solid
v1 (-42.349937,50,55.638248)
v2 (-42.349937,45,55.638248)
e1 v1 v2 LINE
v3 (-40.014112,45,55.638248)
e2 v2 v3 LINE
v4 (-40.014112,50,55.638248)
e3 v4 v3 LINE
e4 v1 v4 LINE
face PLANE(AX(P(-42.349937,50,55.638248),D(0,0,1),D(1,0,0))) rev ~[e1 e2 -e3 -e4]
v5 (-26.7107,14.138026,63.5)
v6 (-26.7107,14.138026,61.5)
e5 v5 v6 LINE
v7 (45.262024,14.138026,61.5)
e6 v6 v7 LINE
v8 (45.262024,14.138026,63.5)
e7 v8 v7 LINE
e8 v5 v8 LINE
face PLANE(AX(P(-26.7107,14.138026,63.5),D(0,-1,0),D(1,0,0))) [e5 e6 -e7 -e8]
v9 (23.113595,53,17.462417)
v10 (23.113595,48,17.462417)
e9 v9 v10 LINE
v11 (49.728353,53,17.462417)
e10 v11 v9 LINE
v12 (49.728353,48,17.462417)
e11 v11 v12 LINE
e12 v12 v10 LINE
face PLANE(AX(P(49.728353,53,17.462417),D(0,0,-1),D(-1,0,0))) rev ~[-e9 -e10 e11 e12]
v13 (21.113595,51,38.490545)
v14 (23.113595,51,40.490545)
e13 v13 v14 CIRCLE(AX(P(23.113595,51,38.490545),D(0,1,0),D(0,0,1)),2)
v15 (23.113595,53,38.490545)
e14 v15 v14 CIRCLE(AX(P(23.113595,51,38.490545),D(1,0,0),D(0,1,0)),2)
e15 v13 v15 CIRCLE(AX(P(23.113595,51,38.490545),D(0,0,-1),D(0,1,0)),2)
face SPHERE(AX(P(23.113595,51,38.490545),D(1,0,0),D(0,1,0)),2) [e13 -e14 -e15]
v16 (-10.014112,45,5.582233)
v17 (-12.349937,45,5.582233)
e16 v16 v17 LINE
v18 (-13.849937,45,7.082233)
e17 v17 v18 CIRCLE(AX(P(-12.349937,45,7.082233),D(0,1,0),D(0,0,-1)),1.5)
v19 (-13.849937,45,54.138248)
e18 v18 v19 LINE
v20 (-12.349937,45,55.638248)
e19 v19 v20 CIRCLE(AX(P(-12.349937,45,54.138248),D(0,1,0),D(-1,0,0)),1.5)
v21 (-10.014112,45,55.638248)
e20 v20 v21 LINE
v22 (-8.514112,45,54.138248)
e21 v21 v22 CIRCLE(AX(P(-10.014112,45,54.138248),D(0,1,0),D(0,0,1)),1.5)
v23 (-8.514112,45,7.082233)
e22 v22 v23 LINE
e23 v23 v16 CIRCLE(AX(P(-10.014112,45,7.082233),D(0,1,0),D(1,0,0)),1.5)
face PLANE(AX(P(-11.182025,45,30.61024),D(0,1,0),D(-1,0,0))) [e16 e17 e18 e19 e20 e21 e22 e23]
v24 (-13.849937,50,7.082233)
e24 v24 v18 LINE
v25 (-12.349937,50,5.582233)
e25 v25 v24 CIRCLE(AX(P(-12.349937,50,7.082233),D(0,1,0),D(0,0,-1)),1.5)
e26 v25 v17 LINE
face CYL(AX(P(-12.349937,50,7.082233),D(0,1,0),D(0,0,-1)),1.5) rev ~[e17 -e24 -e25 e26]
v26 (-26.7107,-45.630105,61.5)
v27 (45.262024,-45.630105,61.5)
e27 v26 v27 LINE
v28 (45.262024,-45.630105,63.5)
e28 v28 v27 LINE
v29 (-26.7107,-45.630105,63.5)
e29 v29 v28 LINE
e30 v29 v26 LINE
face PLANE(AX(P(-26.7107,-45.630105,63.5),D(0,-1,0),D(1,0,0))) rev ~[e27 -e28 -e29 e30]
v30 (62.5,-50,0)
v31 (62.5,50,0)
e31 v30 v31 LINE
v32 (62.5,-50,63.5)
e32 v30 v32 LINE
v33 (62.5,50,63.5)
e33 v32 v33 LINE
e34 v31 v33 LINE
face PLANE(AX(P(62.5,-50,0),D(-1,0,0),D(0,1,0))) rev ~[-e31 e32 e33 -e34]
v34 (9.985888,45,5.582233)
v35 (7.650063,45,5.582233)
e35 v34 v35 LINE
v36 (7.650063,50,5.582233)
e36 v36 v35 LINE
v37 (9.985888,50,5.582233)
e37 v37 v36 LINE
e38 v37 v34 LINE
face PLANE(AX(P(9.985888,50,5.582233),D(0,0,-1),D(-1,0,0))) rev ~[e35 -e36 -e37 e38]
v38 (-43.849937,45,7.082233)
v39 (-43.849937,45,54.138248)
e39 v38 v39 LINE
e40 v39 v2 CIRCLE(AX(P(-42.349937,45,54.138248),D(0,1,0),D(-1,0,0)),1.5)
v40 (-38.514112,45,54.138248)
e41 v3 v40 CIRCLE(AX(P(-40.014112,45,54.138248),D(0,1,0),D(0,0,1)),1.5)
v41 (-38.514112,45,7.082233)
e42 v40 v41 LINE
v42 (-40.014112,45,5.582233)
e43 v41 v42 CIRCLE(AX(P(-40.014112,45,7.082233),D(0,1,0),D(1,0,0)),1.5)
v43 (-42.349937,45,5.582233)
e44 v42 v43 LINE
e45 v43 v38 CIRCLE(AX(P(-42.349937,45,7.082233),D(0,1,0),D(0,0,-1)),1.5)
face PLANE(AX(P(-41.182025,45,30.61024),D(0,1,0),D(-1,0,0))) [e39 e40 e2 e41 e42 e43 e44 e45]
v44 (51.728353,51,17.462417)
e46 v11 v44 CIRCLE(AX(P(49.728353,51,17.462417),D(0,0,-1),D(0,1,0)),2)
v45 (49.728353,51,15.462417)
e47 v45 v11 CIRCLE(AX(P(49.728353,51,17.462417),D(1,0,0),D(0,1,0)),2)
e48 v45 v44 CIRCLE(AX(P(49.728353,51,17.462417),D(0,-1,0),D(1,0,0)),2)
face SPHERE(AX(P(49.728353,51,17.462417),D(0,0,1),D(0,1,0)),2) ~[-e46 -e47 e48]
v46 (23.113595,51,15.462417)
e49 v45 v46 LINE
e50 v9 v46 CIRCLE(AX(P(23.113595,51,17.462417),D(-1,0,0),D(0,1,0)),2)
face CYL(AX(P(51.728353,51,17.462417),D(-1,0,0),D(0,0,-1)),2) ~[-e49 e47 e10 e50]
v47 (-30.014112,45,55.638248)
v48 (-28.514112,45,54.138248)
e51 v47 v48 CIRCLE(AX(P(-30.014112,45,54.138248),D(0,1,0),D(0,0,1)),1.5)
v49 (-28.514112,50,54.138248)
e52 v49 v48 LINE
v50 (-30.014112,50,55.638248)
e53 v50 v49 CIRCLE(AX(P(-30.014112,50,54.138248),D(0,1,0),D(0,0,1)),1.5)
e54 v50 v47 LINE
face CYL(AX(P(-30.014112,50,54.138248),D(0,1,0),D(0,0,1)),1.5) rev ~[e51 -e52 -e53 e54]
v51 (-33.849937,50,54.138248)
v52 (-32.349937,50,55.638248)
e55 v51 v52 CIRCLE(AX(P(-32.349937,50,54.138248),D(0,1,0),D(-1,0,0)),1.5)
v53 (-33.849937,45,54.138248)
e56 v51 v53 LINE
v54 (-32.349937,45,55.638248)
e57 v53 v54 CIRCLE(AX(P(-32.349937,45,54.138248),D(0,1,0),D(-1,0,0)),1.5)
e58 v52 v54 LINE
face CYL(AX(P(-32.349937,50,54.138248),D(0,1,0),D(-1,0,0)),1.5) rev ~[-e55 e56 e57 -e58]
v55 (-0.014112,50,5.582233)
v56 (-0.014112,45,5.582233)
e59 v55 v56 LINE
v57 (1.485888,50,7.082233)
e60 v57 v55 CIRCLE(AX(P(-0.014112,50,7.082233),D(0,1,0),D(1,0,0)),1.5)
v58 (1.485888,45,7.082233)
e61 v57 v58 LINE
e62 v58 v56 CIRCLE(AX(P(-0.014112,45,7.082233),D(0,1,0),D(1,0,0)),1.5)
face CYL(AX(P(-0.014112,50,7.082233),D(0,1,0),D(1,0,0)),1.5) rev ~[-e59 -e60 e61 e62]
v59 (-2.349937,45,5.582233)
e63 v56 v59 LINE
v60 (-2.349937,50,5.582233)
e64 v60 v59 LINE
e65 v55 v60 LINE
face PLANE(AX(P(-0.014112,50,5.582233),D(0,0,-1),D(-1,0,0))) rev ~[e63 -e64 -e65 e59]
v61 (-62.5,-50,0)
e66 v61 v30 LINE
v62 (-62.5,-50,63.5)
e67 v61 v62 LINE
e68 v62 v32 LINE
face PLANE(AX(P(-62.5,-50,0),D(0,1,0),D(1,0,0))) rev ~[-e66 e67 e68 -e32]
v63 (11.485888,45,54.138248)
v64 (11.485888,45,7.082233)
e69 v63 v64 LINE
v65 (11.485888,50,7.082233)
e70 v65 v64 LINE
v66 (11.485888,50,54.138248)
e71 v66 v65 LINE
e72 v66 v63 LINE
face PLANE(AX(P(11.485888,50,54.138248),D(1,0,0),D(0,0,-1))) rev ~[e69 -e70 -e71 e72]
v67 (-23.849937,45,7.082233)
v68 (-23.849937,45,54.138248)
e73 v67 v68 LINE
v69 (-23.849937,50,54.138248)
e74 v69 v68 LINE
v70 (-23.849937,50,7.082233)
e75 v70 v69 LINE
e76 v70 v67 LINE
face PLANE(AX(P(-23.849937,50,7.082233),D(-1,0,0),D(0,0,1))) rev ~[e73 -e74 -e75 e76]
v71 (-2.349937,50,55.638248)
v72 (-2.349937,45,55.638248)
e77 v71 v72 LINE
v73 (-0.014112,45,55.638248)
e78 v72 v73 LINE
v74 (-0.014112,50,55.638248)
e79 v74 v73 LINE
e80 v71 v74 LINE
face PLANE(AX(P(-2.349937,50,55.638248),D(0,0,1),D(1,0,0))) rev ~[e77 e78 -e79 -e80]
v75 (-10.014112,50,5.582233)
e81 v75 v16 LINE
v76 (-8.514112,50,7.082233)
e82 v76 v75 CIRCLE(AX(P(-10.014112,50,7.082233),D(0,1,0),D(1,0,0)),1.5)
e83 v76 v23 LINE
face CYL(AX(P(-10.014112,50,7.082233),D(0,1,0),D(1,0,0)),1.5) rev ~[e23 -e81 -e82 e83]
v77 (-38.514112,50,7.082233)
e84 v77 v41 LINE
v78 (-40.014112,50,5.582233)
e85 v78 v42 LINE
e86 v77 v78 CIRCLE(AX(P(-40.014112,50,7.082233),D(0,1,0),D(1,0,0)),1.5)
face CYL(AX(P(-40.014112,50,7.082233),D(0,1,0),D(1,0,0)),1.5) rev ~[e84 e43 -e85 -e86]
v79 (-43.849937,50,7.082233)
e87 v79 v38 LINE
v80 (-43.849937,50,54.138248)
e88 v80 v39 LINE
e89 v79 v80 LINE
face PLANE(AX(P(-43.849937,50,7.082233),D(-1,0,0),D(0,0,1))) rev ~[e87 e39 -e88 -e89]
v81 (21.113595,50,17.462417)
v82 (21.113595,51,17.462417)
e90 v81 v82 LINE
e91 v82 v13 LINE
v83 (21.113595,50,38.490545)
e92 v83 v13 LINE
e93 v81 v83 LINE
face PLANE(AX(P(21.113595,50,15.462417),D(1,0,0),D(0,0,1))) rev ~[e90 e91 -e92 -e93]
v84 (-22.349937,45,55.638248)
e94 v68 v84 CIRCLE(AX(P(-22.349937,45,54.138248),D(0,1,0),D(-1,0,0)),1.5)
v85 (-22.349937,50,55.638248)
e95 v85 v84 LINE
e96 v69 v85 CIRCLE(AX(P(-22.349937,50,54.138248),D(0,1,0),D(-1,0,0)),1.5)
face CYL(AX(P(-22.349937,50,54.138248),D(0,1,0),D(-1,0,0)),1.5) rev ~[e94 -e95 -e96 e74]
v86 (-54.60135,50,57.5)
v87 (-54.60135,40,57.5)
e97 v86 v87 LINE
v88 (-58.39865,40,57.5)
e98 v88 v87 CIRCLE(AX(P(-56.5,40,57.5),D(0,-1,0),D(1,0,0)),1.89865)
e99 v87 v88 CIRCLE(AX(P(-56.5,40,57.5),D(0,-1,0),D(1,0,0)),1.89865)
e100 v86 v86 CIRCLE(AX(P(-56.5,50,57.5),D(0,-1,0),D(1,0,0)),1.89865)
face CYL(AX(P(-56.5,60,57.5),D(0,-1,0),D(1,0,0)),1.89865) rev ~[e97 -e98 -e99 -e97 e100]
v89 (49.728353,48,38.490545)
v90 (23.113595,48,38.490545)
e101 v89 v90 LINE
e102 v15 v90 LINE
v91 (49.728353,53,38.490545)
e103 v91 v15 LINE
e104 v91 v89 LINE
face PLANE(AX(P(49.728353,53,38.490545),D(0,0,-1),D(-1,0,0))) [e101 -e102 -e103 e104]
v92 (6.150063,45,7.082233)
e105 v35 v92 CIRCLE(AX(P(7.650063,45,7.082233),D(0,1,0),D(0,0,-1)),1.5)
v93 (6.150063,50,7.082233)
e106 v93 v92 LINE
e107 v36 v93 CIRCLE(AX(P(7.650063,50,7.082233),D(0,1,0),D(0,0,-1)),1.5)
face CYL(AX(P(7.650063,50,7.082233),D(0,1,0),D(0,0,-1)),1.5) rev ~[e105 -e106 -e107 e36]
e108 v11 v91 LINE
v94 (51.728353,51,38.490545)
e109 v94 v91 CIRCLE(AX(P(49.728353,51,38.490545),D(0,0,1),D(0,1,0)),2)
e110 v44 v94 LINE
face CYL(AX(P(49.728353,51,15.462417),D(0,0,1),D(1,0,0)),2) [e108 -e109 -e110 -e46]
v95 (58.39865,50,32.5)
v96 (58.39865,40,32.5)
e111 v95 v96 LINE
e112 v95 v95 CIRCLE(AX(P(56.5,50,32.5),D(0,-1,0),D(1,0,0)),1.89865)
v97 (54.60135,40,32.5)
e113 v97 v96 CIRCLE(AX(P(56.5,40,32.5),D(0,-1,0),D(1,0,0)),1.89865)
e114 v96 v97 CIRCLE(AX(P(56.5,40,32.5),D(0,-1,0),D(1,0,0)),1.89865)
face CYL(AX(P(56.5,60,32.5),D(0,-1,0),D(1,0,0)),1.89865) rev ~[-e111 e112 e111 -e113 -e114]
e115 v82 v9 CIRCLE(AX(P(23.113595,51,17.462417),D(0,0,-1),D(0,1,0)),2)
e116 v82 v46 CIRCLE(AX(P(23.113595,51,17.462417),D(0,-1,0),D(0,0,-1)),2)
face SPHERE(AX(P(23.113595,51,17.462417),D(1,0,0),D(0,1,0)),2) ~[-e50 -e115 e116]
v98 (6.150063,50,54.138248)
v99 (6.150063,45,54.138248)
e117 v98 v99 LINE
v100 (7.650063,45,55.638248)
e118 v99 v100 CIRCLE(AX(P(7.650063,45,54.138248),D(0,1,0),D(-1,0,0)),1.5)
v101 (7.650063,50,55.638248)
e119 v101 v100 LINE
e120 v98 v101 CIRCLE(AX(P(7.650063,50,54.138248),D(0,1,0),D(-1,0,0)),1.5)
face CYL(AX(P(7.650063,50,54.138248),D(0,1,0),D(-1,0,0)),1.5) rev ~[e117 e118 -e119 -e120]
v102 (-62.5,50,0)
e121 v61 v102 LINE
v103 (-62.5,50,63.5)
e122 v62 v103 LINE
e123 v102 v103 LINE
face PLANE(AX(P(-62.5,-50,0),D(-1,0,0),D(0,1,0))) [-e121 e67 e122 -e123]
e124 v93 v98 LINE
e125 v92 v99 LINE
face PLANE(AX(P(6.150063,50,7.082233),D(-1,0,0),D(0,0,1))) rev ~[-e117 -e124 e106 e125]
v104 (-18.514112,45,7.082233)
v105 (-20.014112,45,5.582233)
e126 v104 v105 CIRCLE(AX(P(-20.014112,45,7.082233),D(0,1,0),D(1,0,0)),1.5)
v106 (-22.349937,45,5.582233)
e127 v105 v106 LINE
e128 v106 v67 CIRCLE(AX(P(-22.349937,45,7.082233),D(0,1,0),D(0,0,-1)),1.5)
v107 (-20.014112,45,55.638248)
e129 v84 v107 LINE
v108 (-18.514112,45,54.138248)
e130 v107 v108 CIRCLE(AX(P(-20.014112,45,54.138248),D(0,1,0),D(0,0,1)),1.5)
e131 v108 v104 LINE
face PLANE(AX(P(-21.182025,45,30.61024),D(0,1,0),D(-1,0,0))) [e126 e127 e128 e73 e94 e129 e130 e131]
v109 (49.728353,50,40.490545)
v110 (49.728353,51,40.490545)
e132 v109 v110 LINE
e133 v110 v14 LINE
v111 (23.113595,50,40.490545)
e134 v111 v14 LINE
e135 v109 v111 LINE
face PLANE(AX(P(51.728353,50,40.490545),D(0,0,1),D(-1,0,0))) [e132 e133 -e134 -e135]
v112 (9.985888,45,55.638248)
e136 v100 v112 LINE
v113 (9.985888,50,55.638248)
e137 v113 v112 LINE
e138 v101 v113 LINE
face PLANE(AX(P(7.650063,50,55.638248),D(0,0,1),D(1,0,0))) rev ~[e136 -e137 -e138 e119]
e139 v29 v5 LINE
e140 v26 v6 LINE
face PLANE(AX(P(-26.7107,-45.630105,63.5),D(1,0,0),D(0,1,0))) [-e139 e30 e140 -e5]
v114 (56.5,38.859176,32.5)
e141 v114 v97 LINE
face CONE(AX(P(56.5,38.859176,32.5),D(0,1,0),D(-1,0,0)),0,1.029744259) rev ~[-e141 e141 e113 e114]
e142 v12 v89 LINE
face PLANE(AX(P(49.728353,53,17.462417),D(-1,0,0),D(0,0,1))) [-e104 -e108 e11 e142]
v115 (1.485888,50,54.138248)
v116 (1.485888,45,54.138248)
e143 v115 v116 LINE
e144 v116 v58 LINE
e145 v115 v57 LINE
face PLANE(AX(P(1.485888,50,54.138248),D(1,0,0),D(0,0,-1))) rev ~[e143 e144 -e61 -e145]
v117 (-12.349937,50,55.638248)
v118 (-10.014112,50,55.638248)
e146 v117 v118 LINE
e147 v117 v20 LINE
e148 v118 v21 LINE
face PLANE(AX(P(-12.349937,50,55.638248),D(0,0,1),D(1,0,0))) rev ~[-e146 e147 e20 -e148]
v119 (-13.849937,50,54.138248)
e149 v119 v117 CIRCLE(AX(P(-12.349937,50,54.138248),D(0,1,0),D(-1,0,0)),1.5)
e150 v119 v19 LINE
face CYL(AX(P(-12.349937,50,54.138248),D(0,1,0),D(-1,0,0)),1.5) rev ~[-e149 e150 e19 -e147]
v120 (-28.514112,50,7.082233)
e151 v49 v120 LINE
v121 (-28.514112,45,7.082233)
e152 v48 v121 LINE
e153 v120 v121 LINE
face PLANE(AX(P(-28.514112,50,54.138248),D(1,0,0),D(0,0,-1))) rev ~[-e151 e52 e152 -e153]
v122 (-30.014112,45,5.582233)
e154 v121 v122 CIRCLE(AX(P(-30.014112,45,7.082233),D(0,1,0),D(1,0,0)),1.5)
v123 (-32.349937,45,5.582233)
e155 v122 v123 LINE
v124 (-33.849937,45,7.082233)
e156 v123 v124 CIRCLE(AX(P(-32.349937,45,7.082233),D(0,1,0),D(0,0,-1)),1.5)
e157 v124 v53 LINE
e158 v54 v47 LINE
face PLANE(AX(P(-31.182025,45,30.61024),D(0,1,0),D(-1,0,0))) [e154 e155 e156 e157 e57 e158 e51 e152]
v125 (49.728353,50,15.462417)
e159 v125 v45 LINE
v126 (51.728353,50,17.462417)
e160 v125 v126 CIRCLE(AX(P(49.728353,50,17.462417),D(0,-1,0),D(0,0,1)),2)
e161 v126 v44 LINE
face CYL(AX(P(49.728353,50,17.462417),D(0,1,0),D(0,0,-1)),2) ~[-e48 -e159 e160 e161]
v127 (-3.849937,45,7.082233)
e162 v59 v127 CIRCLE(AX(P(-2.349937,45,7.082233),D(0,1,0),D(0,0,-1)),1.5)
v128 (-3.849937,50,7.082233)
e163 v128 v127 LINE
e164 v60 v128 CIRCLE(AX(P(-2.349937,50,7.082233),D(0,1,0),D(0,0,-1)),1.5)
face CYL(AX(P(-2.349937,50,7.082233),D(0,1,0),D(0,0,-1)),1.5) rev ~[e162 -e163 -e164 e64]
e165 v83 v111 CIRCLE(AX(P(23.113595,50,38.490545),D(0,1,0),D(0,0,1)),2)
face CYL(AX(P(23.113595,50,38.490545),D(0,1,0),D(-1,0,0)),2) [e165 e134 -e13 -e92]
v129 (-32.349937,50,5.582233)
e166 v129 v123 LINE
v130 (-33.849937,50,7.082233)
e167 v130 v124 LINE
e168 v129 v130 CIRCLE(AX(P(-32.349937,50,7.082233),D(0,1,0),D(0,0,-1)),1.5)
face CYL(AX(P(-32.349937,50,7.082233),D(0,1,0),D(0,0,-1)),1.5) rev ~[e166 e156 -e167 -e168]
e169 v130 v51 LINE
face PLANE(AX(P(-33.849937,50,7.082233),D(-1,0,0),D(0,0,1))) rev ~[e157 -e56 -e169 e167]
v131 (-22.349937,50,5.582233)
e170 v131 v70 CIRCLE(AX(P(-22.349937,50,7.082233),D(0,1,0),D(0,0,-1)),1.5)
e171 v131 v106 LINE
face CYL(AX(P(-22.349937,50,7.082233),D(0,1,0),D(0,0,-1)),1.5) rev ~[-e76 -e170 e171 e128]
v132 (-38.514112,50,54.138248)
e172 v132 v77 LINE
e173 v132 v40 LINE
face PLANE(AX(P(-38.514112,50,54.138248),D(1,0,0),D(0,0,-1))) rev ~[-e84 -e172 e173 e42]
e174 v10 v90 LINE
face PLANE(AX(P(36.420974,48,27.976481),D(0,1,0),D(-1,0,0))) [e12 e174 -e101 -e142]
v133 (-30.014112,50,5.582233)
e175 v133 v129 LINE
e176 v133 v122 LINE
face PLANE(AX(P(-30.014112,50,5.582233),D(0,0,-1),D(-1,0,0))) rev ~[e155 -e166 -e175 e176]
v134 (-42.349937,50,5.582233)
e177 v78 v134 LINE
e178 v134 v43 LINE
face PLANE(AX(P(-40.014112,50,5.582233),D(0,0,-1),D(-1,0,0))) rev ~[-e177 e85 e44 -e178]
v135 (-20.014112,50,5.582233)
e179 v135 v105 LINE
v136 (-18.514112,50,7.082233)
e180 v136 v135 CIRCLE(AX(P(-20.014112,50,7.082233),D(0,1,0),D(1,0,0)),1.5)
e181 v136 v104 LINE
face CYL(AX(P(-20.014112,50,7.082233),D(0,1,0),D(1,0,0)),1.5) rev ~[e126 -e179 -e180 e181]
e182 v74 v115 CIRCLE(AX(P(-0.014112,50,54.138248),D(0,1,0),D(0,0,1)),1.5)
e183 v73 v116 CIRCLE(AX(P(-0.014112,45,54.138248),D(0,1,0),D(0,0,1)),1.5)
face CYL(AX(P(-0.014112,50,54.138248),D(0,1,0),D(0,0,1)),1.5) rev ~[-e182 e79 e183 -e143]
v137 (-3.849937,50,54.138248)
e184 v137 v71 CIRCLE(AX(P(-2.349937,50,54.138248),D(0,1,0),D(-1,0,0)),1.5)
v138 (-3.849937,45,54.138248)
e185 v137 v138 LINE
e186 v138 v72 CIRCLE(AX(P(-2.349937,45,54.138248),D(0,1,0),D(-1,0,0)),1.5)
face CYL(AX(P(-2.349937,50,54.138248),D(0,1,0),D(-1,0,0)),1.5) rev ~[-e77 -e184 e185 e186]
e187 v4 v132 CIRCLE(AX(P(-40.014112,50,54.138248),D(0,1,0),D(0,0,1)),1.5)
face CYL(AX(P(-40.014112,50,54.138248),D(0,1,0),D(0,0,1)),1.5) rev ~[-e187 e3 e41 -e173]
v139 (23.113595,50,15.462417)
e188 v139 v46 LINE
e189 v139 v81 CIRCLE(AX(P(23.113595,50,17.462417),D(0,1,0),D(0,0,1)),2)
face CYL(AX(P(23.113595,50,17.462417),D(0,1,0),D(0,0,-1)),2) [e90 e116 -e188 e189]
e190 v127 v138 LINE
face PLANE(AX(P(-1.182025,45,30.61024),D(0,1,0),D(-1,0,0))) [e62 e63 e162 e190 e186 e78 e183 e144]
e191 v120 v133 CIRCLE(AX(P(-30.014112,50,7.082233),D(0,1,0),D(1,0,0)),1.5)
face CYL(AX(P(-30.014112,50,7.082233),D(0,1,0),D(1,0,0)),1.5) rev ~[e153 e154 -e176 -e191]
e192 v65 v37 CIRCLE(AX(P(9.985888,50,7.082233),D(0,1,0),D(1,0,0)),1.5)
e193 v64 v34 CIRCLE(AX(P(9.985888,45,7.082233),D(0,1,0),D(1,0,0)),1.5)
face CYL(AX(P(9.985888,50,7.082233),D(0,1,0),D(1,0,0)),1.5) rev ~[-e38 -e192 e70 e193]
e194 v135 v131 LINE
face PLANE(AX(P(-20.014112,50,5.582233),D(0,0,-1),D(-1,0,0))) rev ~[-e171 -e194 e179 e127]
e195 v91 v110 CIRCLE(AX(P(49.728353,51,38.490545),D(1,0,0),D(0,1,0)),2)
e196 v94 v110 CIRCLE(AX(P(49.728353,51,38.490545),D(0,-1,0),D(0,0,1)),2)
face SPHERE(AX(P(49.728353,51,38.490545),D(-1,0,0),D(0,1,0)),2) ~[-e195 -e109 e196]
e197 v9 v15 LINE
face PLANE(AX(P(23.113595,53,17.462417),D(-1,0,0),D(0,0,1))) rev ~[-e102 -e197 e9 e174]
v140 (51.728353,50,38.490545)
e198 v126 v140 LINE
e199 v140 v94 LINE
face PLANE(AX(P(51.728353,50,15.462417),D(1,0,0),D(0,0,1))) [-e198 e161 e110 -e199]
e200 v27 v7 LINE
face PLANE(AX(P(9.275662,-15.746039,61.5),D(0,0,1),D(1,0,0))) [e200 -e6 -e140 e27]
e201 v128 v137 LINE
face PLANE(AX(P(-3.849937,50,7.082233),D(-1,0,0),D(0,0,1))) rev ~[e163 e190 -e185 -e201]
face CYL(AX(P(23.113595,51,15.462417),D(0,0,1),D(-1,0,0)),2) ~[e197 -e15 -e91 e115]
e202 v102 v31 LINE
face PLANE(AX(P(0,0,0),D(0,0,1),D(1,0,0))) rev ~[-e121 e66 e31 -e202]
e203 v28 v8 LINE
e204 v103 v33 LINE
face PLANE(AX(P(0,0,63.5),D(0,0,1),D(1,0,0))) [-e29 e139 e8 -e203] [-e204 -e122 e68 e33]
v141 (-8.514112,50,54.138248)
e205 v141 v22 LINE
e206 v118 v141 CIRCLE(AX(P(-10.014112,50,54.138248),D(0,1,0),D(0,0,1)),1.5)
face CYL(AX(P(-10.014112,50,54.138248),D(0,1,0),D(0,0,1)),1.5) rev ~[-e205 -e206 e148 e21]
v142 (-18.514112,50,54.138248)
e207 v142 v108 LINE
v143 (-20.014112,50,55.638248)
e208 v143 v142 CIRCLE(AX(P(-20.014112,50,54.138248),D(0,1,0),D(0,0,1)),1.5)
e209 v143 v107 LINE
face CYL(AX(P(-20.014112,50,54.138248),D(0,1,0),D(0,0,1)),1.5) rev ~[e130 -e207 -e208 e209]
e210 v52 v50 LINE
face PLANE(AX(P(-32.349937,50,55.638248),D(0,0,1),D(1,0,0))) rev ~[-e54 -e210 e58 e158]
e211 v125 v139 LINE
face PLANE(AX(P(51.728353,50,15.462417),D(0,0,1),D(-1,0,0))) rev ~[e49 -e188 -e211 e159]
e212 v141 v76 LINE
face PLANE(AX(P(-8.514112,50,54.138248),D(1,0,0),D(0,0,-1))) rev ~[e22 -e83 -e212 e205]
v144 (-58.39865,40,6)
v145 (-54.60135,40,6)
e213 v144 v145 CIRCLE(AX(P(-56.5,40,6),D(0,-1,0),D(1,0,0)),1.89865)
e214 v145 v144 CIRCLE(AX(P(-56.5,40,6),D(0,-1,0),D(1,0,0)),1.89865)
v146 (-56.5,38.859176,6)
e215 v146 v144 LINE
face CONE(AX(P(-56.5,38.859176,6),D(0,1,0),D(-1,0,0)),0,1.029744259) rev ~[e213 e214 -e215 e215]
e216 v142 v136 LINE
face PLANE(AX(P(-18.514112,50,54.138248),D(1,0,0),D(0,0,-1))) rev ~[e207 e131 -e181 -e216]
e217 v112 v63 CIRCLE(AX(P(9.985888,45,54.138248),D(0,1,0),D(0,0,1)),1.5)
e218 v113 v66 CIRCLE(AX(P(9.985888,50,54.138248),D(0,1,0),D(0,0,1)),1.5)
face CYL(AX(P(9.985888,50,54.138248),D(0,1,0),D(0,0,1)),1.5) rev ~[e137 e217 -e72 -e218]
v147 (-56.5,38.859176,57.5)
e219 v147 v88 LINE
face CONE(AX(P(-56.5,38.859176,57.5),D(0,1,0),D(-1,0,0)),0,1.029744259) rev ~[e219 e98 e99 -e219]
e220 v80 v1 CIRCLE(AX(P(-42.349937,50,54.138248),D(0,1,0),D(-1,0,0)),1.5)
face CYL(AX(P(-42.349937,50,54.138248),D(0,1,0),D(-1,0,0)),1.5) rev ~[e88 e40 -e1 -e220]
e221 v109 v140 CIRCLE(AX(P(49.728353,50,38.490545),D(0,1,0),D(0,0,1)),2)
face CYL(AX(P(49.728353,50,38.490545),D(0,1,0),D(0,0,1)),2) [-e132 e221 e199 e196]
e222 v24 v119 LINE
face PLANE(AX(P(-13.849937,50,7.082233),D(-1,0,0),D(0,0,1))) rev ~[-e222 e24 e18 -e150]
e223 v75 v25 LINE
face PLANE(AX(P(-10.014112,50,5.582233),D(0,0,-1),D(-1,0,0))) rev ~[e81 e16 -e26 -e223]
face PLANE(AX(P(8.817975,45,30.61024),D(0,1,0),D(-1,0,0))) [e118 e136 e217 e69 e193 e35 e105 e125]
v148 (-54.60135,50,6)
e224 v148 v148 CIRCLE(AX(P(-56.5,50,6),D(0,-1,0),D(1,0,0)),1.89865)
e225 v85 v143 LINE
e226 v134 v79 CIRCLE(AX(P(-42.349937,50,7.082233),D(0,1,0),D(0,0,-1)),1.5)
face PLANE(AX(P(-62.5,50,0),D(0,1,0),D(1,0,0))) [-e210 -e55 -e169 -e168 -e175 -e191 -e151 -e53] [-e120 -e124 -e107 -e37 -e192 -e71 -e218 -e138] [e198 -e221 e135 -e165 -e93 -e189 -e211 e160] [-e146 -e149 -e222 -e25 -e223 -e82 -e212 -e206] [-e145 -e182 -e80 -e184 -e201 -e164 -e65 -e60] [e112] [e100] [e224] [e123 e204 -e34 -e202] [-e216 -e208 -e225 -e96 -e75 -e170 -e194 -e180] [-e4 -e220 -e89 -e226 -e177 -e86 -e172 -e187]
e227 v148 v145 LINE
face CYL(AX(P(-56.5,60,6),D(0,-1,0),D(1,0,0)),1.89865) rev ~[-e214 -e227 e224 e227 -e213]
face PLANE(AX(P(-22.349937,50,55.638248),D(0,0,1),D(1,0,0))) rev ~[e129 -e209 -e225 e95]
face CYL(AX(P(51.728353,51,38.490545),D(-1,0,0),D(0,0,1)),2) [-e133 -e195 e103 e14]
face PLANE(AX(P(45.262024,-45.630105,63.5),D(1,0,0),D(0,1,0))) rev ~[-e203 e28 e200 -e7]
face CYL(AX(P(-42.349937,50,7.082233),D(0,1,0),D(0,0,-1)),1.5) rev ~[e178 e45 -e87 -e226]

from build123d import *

# Parameters (mm, degrees)
F0_W      = 125
F0_H      = 100
F1_DEPTH  = 63.5
F3_D      = 3.7973
F3_DEPTH  = 10
F3_TIP    = 1.1408240143
F2_W      = 30.6147579104
F2_H      = 25.0281281769
F4_DEPTH  = 3
F5_R      = 2
F6_W      = 71.9727240503
F6_H      = 59.7681310028
F7_DEPTH  = 2
F9_DEPTH  = 5
F10_DEPTH = 5


with BuildPart() as f1:
    # F0 (on Top) → F1 (new body)
    with BuildSketch(Plane.XY):
        Rectangle(F0_W, F0_H)
    extrude(amount=F1_DEPTH)

    # F3
    with Locations(Plane(origin=(0, 50, 0), x_dir=(-1, 0, 0), z_dir=(0, 1, 0))):
        with Locations((-56.5, 32.5), (56.5, 57.5), (56.5, 6)):
            Hole(F3_D / 2, depth=F3_DEPTH)
            with Locations((0, 0, -(F3_DEPTH + F3_TIP / 2))):  # 118° drill point
                Cone(0, F3_D / 2, F3_TIP, mode=Mode.SUBTRACT)

    # F2 (on face) → F4 (join)
    with BuildSketch(Plane(origin=(0, 50, 0), x_dir=(-1, 0, 0), z_dir=(0, 1, 0))):
        with Locations((-36.4209739491, 27.976481244)):
            Rectangle(F2_W, F2_H)
    extrude(amount=F4_DEPTH)

    # F5
    f5_edges = [f1.edges().sort_by_distance(p)[0] for p in [
        (36.420974, 53, 40.490545),
        (51.728353, 53, 27.976481),
        (36.420974, 53, 15.462417),
        (21.113595, 53, 27.976481),
        (21.113595, 51.5, 40.490545),
        (21.113595, 51.5, 15.462417),
        (51.728353, 51.5, 40.490545),
        (51.728353, 51.5, 15.462417),
    ]]
    fillet(f5_edges, radius=F5_R)

    # F6 (on face) → F7 (cut)
    with BuildSketch(Plane.XY.offset(63.5)):
        with Locations((9.2756617814, -15.7460393384)):
            Rectangle(F6_W, F6_H)
    extrude(amount=-F7_DEPTH, mode=Mode.SUBTRACT)

    # F8 (on face) → F9 (cut)
    with BuildSketch(Plane(origin=(0, 50, 0), x_dir=(-1, 0, 0), z_dir=(0, 1, 0))):
        with BuildLine():
            Line((-7.6500625238, 55.638247937), (-9.9858876914, 55.638247937))
            ThreePointArc((-9.9858876914, 55.638247937), (-11.0465478632, 55.1989081087), (-11.4858876914, 54.138247937))
            Line((-11.4858876914, 54.138247937), (-11.4858876914, 7.0822326578))
            ThreePointArc((-11.4858876914, 7.0822326578), (-11.0465478632, 6.021572486), (-9.9858876914, 5.5822326578))
            Line((-9.9858876914, 5.5822326578), (-7.6500625238, 5.5822326578))
            ThreePointArc((-7.6500625238, 5.5822326578), (-6.589402352, 6.021572486), (-6.1500625238, 7.0822326578))
            Line((-6.1500625238, 7.0822326578), (-6.1500625238, 54.138247937))
            ThreePointArc((-6.1500625238, 54.138247937), (-6.589402352, 55.1989081087), (-7.6500625238, 55.638247937))
        make_face()
        with BuildLine():
            Line((2.3499374762, 55.638247937), (0.0141123086, 55.638247937))
            ThreePointArc((0.0141123086, 55.638247937), (-1.0465478632, 55.1989081087), (-1.4858876914, 54.138247937))
            Line((-1.4858876914, 54.138247937), (-1.4858876914, 7.0822326578))
            ThreePointArc((-1.4858876914, 7.0822326578), (-1.0465478632, 6.021572486), (0.0141123086, 5.5822326578))
            Line((0.0141123086, 5.5822326578), (2.3499374762, 5.5822326578))
            ThreePointArc((2.3499374762, 5.5822326578), (3.410597648, 6.021572486), (3.8499374762, 7.0822326578))
            Line((3.8499374762, 7.0822326578), (3.8499374762, 54.138247937))
            ThreePointArc((3.8499374762, 54.138247937), (3.410597648, 55.1989081087), (2.3499374762, 55.638247937))
        make_face()
        with BuildLine():
            Line((12.3499374762, 55.638247937), (10.0141123086, 55.638247937))
            ThreePointArc((10.0141123086, 55.638247937), (8.9534521368, 55.1989081087), (8.5141123086, 54.138247937))
            Line((8.5141123086, 54.138247937), (8.5141123086, 7.0822326578))
            ThreePointArc((8.5141123086, 7.0822326578), (8.9534521368, 6.021572486), (10.0141123086, 5.5822326578))
            Line((10.0141123086, 5.5822326578), (12.3499374762, 5.5822326578))
            ThreePointArc((12.3499374762, 5.5822326578), (13.410597648, 6.021572486), (13.8499374762, 7.0822326578))
            Line((13.8499374762, 7.0822326578), (13.8499374762, 54.138247937))
            ThreePointArc((13.8499374762, 54.138247937), (13.410597648, 55.1989081087), (12.3499374762, 55.638247937))
        make_face()
        with BuildLine():
            Line((22.3499374762, 55.638247937), (20.0141123086, 55.638247937))
            ThreePointArc((20.0141123086, 55.638247937), (18.9534521368, 55.1989081087), (18.5141123086, 54.138247937))
            Line((18.5141123086, 54.138247937), (18.5141123086, 7.0822326578))
            ThreePointArc((18.5141123086, 7.0822326578), (18.9534521368, 6.021572486), (20.0141123086, 5.5822326578))
            Line((20.0141123086, 5.5822326578), (22.3499374762, 5.5822326578))
            ThreePointArc((22.3499374762, 5.5822326578), (23.410597648, 6.021572486), (23.8499374762, 7.0822326578))
            Line((23.8499374762, 7.0822326578), (23.8499374762, 54.138247937))
            ThreePointArc((23.8499374762, 54.138247937), (23.410597648, 55.1989081087), (22.3499374762, 55.638247937))
        make_face()
        with BuildLine():
            Line((32.3499374762, 55.638247937), (30.0141123086, 55.638247937))
            ThreePointArc((30.0141123086, 55.638247937), (28.9534521368, 55.1989081087), (28.5141123086, 54.138247937))
            Line((28.5141123086, 54.138247937), (28.5141123086, 7.0822326578))
            ThreePointArc((28.5141123086, 7.0822326578), (28.9534521368, 6.021572486), (30.0141123086, 5.5822326578))
            Line((30.0141123086, 5.5822326578), (32.3499374762, 5.5822326578))
            ThreePointArc((32.3499374762, 5.5822326578), (33.410597648, 6.021572486), (33.8499374762, 7.0822326578))
            Line((33.8499374762, 7.0822326578), (33.8499374762, 54.138247937))
            ThreePointArc((33.8499374762, 54.138247937), (33.410597648, 55.1989081087), (32.3499374762, 55.638247937))
        make_face()
        with BuildLine():
            Line((42.3499374762, 55.638247937), (40.0141123086, 55.638247937))
            ThreePointArc((40.0141123086, 55.638247937), (38.9534521368, 55.1989081087), (38.5141123086, 54.138247937))
            Line((38.5141123086, 54.138247937), (38.5141123086, 7.0822326578))
            ThreePointArc((38.5141123086, 7.0822326578), (38.9534521368, 6.021572486), (40.0141123086, 5.5822326578))
            Line((40.0141123086, 5.5822326578), (42.3499374762, 5.5822326578))
            ThreePointArc((42.3499374762, 5.5822326578), (43.410597648, 6.021572486), (43.8499374762, 7.0822326578))
            Line((43.8499374762, 7.0822326578), (43.8499374762, 54.138247937))
            ThreePointArc((43.8499374762, 54.138247937), (43.410597648, 55.1989081087), (42.3499374762, 55.638247937))
        make_face()
    extrude(amount=-F9_DEPTH, mode=Mode.SUBTRACT)

    # F10 (cut): a face of the model
    f10_faces = [f1.faces().sort_by_distance(p)[0] for p in [
        (36.4209739491, 53, 27.976481244),
    ]]
    extrude(f10_faces, amount=-F10_DEPTH, mode=Mode.SUBTRACT)


solid = f1.part
